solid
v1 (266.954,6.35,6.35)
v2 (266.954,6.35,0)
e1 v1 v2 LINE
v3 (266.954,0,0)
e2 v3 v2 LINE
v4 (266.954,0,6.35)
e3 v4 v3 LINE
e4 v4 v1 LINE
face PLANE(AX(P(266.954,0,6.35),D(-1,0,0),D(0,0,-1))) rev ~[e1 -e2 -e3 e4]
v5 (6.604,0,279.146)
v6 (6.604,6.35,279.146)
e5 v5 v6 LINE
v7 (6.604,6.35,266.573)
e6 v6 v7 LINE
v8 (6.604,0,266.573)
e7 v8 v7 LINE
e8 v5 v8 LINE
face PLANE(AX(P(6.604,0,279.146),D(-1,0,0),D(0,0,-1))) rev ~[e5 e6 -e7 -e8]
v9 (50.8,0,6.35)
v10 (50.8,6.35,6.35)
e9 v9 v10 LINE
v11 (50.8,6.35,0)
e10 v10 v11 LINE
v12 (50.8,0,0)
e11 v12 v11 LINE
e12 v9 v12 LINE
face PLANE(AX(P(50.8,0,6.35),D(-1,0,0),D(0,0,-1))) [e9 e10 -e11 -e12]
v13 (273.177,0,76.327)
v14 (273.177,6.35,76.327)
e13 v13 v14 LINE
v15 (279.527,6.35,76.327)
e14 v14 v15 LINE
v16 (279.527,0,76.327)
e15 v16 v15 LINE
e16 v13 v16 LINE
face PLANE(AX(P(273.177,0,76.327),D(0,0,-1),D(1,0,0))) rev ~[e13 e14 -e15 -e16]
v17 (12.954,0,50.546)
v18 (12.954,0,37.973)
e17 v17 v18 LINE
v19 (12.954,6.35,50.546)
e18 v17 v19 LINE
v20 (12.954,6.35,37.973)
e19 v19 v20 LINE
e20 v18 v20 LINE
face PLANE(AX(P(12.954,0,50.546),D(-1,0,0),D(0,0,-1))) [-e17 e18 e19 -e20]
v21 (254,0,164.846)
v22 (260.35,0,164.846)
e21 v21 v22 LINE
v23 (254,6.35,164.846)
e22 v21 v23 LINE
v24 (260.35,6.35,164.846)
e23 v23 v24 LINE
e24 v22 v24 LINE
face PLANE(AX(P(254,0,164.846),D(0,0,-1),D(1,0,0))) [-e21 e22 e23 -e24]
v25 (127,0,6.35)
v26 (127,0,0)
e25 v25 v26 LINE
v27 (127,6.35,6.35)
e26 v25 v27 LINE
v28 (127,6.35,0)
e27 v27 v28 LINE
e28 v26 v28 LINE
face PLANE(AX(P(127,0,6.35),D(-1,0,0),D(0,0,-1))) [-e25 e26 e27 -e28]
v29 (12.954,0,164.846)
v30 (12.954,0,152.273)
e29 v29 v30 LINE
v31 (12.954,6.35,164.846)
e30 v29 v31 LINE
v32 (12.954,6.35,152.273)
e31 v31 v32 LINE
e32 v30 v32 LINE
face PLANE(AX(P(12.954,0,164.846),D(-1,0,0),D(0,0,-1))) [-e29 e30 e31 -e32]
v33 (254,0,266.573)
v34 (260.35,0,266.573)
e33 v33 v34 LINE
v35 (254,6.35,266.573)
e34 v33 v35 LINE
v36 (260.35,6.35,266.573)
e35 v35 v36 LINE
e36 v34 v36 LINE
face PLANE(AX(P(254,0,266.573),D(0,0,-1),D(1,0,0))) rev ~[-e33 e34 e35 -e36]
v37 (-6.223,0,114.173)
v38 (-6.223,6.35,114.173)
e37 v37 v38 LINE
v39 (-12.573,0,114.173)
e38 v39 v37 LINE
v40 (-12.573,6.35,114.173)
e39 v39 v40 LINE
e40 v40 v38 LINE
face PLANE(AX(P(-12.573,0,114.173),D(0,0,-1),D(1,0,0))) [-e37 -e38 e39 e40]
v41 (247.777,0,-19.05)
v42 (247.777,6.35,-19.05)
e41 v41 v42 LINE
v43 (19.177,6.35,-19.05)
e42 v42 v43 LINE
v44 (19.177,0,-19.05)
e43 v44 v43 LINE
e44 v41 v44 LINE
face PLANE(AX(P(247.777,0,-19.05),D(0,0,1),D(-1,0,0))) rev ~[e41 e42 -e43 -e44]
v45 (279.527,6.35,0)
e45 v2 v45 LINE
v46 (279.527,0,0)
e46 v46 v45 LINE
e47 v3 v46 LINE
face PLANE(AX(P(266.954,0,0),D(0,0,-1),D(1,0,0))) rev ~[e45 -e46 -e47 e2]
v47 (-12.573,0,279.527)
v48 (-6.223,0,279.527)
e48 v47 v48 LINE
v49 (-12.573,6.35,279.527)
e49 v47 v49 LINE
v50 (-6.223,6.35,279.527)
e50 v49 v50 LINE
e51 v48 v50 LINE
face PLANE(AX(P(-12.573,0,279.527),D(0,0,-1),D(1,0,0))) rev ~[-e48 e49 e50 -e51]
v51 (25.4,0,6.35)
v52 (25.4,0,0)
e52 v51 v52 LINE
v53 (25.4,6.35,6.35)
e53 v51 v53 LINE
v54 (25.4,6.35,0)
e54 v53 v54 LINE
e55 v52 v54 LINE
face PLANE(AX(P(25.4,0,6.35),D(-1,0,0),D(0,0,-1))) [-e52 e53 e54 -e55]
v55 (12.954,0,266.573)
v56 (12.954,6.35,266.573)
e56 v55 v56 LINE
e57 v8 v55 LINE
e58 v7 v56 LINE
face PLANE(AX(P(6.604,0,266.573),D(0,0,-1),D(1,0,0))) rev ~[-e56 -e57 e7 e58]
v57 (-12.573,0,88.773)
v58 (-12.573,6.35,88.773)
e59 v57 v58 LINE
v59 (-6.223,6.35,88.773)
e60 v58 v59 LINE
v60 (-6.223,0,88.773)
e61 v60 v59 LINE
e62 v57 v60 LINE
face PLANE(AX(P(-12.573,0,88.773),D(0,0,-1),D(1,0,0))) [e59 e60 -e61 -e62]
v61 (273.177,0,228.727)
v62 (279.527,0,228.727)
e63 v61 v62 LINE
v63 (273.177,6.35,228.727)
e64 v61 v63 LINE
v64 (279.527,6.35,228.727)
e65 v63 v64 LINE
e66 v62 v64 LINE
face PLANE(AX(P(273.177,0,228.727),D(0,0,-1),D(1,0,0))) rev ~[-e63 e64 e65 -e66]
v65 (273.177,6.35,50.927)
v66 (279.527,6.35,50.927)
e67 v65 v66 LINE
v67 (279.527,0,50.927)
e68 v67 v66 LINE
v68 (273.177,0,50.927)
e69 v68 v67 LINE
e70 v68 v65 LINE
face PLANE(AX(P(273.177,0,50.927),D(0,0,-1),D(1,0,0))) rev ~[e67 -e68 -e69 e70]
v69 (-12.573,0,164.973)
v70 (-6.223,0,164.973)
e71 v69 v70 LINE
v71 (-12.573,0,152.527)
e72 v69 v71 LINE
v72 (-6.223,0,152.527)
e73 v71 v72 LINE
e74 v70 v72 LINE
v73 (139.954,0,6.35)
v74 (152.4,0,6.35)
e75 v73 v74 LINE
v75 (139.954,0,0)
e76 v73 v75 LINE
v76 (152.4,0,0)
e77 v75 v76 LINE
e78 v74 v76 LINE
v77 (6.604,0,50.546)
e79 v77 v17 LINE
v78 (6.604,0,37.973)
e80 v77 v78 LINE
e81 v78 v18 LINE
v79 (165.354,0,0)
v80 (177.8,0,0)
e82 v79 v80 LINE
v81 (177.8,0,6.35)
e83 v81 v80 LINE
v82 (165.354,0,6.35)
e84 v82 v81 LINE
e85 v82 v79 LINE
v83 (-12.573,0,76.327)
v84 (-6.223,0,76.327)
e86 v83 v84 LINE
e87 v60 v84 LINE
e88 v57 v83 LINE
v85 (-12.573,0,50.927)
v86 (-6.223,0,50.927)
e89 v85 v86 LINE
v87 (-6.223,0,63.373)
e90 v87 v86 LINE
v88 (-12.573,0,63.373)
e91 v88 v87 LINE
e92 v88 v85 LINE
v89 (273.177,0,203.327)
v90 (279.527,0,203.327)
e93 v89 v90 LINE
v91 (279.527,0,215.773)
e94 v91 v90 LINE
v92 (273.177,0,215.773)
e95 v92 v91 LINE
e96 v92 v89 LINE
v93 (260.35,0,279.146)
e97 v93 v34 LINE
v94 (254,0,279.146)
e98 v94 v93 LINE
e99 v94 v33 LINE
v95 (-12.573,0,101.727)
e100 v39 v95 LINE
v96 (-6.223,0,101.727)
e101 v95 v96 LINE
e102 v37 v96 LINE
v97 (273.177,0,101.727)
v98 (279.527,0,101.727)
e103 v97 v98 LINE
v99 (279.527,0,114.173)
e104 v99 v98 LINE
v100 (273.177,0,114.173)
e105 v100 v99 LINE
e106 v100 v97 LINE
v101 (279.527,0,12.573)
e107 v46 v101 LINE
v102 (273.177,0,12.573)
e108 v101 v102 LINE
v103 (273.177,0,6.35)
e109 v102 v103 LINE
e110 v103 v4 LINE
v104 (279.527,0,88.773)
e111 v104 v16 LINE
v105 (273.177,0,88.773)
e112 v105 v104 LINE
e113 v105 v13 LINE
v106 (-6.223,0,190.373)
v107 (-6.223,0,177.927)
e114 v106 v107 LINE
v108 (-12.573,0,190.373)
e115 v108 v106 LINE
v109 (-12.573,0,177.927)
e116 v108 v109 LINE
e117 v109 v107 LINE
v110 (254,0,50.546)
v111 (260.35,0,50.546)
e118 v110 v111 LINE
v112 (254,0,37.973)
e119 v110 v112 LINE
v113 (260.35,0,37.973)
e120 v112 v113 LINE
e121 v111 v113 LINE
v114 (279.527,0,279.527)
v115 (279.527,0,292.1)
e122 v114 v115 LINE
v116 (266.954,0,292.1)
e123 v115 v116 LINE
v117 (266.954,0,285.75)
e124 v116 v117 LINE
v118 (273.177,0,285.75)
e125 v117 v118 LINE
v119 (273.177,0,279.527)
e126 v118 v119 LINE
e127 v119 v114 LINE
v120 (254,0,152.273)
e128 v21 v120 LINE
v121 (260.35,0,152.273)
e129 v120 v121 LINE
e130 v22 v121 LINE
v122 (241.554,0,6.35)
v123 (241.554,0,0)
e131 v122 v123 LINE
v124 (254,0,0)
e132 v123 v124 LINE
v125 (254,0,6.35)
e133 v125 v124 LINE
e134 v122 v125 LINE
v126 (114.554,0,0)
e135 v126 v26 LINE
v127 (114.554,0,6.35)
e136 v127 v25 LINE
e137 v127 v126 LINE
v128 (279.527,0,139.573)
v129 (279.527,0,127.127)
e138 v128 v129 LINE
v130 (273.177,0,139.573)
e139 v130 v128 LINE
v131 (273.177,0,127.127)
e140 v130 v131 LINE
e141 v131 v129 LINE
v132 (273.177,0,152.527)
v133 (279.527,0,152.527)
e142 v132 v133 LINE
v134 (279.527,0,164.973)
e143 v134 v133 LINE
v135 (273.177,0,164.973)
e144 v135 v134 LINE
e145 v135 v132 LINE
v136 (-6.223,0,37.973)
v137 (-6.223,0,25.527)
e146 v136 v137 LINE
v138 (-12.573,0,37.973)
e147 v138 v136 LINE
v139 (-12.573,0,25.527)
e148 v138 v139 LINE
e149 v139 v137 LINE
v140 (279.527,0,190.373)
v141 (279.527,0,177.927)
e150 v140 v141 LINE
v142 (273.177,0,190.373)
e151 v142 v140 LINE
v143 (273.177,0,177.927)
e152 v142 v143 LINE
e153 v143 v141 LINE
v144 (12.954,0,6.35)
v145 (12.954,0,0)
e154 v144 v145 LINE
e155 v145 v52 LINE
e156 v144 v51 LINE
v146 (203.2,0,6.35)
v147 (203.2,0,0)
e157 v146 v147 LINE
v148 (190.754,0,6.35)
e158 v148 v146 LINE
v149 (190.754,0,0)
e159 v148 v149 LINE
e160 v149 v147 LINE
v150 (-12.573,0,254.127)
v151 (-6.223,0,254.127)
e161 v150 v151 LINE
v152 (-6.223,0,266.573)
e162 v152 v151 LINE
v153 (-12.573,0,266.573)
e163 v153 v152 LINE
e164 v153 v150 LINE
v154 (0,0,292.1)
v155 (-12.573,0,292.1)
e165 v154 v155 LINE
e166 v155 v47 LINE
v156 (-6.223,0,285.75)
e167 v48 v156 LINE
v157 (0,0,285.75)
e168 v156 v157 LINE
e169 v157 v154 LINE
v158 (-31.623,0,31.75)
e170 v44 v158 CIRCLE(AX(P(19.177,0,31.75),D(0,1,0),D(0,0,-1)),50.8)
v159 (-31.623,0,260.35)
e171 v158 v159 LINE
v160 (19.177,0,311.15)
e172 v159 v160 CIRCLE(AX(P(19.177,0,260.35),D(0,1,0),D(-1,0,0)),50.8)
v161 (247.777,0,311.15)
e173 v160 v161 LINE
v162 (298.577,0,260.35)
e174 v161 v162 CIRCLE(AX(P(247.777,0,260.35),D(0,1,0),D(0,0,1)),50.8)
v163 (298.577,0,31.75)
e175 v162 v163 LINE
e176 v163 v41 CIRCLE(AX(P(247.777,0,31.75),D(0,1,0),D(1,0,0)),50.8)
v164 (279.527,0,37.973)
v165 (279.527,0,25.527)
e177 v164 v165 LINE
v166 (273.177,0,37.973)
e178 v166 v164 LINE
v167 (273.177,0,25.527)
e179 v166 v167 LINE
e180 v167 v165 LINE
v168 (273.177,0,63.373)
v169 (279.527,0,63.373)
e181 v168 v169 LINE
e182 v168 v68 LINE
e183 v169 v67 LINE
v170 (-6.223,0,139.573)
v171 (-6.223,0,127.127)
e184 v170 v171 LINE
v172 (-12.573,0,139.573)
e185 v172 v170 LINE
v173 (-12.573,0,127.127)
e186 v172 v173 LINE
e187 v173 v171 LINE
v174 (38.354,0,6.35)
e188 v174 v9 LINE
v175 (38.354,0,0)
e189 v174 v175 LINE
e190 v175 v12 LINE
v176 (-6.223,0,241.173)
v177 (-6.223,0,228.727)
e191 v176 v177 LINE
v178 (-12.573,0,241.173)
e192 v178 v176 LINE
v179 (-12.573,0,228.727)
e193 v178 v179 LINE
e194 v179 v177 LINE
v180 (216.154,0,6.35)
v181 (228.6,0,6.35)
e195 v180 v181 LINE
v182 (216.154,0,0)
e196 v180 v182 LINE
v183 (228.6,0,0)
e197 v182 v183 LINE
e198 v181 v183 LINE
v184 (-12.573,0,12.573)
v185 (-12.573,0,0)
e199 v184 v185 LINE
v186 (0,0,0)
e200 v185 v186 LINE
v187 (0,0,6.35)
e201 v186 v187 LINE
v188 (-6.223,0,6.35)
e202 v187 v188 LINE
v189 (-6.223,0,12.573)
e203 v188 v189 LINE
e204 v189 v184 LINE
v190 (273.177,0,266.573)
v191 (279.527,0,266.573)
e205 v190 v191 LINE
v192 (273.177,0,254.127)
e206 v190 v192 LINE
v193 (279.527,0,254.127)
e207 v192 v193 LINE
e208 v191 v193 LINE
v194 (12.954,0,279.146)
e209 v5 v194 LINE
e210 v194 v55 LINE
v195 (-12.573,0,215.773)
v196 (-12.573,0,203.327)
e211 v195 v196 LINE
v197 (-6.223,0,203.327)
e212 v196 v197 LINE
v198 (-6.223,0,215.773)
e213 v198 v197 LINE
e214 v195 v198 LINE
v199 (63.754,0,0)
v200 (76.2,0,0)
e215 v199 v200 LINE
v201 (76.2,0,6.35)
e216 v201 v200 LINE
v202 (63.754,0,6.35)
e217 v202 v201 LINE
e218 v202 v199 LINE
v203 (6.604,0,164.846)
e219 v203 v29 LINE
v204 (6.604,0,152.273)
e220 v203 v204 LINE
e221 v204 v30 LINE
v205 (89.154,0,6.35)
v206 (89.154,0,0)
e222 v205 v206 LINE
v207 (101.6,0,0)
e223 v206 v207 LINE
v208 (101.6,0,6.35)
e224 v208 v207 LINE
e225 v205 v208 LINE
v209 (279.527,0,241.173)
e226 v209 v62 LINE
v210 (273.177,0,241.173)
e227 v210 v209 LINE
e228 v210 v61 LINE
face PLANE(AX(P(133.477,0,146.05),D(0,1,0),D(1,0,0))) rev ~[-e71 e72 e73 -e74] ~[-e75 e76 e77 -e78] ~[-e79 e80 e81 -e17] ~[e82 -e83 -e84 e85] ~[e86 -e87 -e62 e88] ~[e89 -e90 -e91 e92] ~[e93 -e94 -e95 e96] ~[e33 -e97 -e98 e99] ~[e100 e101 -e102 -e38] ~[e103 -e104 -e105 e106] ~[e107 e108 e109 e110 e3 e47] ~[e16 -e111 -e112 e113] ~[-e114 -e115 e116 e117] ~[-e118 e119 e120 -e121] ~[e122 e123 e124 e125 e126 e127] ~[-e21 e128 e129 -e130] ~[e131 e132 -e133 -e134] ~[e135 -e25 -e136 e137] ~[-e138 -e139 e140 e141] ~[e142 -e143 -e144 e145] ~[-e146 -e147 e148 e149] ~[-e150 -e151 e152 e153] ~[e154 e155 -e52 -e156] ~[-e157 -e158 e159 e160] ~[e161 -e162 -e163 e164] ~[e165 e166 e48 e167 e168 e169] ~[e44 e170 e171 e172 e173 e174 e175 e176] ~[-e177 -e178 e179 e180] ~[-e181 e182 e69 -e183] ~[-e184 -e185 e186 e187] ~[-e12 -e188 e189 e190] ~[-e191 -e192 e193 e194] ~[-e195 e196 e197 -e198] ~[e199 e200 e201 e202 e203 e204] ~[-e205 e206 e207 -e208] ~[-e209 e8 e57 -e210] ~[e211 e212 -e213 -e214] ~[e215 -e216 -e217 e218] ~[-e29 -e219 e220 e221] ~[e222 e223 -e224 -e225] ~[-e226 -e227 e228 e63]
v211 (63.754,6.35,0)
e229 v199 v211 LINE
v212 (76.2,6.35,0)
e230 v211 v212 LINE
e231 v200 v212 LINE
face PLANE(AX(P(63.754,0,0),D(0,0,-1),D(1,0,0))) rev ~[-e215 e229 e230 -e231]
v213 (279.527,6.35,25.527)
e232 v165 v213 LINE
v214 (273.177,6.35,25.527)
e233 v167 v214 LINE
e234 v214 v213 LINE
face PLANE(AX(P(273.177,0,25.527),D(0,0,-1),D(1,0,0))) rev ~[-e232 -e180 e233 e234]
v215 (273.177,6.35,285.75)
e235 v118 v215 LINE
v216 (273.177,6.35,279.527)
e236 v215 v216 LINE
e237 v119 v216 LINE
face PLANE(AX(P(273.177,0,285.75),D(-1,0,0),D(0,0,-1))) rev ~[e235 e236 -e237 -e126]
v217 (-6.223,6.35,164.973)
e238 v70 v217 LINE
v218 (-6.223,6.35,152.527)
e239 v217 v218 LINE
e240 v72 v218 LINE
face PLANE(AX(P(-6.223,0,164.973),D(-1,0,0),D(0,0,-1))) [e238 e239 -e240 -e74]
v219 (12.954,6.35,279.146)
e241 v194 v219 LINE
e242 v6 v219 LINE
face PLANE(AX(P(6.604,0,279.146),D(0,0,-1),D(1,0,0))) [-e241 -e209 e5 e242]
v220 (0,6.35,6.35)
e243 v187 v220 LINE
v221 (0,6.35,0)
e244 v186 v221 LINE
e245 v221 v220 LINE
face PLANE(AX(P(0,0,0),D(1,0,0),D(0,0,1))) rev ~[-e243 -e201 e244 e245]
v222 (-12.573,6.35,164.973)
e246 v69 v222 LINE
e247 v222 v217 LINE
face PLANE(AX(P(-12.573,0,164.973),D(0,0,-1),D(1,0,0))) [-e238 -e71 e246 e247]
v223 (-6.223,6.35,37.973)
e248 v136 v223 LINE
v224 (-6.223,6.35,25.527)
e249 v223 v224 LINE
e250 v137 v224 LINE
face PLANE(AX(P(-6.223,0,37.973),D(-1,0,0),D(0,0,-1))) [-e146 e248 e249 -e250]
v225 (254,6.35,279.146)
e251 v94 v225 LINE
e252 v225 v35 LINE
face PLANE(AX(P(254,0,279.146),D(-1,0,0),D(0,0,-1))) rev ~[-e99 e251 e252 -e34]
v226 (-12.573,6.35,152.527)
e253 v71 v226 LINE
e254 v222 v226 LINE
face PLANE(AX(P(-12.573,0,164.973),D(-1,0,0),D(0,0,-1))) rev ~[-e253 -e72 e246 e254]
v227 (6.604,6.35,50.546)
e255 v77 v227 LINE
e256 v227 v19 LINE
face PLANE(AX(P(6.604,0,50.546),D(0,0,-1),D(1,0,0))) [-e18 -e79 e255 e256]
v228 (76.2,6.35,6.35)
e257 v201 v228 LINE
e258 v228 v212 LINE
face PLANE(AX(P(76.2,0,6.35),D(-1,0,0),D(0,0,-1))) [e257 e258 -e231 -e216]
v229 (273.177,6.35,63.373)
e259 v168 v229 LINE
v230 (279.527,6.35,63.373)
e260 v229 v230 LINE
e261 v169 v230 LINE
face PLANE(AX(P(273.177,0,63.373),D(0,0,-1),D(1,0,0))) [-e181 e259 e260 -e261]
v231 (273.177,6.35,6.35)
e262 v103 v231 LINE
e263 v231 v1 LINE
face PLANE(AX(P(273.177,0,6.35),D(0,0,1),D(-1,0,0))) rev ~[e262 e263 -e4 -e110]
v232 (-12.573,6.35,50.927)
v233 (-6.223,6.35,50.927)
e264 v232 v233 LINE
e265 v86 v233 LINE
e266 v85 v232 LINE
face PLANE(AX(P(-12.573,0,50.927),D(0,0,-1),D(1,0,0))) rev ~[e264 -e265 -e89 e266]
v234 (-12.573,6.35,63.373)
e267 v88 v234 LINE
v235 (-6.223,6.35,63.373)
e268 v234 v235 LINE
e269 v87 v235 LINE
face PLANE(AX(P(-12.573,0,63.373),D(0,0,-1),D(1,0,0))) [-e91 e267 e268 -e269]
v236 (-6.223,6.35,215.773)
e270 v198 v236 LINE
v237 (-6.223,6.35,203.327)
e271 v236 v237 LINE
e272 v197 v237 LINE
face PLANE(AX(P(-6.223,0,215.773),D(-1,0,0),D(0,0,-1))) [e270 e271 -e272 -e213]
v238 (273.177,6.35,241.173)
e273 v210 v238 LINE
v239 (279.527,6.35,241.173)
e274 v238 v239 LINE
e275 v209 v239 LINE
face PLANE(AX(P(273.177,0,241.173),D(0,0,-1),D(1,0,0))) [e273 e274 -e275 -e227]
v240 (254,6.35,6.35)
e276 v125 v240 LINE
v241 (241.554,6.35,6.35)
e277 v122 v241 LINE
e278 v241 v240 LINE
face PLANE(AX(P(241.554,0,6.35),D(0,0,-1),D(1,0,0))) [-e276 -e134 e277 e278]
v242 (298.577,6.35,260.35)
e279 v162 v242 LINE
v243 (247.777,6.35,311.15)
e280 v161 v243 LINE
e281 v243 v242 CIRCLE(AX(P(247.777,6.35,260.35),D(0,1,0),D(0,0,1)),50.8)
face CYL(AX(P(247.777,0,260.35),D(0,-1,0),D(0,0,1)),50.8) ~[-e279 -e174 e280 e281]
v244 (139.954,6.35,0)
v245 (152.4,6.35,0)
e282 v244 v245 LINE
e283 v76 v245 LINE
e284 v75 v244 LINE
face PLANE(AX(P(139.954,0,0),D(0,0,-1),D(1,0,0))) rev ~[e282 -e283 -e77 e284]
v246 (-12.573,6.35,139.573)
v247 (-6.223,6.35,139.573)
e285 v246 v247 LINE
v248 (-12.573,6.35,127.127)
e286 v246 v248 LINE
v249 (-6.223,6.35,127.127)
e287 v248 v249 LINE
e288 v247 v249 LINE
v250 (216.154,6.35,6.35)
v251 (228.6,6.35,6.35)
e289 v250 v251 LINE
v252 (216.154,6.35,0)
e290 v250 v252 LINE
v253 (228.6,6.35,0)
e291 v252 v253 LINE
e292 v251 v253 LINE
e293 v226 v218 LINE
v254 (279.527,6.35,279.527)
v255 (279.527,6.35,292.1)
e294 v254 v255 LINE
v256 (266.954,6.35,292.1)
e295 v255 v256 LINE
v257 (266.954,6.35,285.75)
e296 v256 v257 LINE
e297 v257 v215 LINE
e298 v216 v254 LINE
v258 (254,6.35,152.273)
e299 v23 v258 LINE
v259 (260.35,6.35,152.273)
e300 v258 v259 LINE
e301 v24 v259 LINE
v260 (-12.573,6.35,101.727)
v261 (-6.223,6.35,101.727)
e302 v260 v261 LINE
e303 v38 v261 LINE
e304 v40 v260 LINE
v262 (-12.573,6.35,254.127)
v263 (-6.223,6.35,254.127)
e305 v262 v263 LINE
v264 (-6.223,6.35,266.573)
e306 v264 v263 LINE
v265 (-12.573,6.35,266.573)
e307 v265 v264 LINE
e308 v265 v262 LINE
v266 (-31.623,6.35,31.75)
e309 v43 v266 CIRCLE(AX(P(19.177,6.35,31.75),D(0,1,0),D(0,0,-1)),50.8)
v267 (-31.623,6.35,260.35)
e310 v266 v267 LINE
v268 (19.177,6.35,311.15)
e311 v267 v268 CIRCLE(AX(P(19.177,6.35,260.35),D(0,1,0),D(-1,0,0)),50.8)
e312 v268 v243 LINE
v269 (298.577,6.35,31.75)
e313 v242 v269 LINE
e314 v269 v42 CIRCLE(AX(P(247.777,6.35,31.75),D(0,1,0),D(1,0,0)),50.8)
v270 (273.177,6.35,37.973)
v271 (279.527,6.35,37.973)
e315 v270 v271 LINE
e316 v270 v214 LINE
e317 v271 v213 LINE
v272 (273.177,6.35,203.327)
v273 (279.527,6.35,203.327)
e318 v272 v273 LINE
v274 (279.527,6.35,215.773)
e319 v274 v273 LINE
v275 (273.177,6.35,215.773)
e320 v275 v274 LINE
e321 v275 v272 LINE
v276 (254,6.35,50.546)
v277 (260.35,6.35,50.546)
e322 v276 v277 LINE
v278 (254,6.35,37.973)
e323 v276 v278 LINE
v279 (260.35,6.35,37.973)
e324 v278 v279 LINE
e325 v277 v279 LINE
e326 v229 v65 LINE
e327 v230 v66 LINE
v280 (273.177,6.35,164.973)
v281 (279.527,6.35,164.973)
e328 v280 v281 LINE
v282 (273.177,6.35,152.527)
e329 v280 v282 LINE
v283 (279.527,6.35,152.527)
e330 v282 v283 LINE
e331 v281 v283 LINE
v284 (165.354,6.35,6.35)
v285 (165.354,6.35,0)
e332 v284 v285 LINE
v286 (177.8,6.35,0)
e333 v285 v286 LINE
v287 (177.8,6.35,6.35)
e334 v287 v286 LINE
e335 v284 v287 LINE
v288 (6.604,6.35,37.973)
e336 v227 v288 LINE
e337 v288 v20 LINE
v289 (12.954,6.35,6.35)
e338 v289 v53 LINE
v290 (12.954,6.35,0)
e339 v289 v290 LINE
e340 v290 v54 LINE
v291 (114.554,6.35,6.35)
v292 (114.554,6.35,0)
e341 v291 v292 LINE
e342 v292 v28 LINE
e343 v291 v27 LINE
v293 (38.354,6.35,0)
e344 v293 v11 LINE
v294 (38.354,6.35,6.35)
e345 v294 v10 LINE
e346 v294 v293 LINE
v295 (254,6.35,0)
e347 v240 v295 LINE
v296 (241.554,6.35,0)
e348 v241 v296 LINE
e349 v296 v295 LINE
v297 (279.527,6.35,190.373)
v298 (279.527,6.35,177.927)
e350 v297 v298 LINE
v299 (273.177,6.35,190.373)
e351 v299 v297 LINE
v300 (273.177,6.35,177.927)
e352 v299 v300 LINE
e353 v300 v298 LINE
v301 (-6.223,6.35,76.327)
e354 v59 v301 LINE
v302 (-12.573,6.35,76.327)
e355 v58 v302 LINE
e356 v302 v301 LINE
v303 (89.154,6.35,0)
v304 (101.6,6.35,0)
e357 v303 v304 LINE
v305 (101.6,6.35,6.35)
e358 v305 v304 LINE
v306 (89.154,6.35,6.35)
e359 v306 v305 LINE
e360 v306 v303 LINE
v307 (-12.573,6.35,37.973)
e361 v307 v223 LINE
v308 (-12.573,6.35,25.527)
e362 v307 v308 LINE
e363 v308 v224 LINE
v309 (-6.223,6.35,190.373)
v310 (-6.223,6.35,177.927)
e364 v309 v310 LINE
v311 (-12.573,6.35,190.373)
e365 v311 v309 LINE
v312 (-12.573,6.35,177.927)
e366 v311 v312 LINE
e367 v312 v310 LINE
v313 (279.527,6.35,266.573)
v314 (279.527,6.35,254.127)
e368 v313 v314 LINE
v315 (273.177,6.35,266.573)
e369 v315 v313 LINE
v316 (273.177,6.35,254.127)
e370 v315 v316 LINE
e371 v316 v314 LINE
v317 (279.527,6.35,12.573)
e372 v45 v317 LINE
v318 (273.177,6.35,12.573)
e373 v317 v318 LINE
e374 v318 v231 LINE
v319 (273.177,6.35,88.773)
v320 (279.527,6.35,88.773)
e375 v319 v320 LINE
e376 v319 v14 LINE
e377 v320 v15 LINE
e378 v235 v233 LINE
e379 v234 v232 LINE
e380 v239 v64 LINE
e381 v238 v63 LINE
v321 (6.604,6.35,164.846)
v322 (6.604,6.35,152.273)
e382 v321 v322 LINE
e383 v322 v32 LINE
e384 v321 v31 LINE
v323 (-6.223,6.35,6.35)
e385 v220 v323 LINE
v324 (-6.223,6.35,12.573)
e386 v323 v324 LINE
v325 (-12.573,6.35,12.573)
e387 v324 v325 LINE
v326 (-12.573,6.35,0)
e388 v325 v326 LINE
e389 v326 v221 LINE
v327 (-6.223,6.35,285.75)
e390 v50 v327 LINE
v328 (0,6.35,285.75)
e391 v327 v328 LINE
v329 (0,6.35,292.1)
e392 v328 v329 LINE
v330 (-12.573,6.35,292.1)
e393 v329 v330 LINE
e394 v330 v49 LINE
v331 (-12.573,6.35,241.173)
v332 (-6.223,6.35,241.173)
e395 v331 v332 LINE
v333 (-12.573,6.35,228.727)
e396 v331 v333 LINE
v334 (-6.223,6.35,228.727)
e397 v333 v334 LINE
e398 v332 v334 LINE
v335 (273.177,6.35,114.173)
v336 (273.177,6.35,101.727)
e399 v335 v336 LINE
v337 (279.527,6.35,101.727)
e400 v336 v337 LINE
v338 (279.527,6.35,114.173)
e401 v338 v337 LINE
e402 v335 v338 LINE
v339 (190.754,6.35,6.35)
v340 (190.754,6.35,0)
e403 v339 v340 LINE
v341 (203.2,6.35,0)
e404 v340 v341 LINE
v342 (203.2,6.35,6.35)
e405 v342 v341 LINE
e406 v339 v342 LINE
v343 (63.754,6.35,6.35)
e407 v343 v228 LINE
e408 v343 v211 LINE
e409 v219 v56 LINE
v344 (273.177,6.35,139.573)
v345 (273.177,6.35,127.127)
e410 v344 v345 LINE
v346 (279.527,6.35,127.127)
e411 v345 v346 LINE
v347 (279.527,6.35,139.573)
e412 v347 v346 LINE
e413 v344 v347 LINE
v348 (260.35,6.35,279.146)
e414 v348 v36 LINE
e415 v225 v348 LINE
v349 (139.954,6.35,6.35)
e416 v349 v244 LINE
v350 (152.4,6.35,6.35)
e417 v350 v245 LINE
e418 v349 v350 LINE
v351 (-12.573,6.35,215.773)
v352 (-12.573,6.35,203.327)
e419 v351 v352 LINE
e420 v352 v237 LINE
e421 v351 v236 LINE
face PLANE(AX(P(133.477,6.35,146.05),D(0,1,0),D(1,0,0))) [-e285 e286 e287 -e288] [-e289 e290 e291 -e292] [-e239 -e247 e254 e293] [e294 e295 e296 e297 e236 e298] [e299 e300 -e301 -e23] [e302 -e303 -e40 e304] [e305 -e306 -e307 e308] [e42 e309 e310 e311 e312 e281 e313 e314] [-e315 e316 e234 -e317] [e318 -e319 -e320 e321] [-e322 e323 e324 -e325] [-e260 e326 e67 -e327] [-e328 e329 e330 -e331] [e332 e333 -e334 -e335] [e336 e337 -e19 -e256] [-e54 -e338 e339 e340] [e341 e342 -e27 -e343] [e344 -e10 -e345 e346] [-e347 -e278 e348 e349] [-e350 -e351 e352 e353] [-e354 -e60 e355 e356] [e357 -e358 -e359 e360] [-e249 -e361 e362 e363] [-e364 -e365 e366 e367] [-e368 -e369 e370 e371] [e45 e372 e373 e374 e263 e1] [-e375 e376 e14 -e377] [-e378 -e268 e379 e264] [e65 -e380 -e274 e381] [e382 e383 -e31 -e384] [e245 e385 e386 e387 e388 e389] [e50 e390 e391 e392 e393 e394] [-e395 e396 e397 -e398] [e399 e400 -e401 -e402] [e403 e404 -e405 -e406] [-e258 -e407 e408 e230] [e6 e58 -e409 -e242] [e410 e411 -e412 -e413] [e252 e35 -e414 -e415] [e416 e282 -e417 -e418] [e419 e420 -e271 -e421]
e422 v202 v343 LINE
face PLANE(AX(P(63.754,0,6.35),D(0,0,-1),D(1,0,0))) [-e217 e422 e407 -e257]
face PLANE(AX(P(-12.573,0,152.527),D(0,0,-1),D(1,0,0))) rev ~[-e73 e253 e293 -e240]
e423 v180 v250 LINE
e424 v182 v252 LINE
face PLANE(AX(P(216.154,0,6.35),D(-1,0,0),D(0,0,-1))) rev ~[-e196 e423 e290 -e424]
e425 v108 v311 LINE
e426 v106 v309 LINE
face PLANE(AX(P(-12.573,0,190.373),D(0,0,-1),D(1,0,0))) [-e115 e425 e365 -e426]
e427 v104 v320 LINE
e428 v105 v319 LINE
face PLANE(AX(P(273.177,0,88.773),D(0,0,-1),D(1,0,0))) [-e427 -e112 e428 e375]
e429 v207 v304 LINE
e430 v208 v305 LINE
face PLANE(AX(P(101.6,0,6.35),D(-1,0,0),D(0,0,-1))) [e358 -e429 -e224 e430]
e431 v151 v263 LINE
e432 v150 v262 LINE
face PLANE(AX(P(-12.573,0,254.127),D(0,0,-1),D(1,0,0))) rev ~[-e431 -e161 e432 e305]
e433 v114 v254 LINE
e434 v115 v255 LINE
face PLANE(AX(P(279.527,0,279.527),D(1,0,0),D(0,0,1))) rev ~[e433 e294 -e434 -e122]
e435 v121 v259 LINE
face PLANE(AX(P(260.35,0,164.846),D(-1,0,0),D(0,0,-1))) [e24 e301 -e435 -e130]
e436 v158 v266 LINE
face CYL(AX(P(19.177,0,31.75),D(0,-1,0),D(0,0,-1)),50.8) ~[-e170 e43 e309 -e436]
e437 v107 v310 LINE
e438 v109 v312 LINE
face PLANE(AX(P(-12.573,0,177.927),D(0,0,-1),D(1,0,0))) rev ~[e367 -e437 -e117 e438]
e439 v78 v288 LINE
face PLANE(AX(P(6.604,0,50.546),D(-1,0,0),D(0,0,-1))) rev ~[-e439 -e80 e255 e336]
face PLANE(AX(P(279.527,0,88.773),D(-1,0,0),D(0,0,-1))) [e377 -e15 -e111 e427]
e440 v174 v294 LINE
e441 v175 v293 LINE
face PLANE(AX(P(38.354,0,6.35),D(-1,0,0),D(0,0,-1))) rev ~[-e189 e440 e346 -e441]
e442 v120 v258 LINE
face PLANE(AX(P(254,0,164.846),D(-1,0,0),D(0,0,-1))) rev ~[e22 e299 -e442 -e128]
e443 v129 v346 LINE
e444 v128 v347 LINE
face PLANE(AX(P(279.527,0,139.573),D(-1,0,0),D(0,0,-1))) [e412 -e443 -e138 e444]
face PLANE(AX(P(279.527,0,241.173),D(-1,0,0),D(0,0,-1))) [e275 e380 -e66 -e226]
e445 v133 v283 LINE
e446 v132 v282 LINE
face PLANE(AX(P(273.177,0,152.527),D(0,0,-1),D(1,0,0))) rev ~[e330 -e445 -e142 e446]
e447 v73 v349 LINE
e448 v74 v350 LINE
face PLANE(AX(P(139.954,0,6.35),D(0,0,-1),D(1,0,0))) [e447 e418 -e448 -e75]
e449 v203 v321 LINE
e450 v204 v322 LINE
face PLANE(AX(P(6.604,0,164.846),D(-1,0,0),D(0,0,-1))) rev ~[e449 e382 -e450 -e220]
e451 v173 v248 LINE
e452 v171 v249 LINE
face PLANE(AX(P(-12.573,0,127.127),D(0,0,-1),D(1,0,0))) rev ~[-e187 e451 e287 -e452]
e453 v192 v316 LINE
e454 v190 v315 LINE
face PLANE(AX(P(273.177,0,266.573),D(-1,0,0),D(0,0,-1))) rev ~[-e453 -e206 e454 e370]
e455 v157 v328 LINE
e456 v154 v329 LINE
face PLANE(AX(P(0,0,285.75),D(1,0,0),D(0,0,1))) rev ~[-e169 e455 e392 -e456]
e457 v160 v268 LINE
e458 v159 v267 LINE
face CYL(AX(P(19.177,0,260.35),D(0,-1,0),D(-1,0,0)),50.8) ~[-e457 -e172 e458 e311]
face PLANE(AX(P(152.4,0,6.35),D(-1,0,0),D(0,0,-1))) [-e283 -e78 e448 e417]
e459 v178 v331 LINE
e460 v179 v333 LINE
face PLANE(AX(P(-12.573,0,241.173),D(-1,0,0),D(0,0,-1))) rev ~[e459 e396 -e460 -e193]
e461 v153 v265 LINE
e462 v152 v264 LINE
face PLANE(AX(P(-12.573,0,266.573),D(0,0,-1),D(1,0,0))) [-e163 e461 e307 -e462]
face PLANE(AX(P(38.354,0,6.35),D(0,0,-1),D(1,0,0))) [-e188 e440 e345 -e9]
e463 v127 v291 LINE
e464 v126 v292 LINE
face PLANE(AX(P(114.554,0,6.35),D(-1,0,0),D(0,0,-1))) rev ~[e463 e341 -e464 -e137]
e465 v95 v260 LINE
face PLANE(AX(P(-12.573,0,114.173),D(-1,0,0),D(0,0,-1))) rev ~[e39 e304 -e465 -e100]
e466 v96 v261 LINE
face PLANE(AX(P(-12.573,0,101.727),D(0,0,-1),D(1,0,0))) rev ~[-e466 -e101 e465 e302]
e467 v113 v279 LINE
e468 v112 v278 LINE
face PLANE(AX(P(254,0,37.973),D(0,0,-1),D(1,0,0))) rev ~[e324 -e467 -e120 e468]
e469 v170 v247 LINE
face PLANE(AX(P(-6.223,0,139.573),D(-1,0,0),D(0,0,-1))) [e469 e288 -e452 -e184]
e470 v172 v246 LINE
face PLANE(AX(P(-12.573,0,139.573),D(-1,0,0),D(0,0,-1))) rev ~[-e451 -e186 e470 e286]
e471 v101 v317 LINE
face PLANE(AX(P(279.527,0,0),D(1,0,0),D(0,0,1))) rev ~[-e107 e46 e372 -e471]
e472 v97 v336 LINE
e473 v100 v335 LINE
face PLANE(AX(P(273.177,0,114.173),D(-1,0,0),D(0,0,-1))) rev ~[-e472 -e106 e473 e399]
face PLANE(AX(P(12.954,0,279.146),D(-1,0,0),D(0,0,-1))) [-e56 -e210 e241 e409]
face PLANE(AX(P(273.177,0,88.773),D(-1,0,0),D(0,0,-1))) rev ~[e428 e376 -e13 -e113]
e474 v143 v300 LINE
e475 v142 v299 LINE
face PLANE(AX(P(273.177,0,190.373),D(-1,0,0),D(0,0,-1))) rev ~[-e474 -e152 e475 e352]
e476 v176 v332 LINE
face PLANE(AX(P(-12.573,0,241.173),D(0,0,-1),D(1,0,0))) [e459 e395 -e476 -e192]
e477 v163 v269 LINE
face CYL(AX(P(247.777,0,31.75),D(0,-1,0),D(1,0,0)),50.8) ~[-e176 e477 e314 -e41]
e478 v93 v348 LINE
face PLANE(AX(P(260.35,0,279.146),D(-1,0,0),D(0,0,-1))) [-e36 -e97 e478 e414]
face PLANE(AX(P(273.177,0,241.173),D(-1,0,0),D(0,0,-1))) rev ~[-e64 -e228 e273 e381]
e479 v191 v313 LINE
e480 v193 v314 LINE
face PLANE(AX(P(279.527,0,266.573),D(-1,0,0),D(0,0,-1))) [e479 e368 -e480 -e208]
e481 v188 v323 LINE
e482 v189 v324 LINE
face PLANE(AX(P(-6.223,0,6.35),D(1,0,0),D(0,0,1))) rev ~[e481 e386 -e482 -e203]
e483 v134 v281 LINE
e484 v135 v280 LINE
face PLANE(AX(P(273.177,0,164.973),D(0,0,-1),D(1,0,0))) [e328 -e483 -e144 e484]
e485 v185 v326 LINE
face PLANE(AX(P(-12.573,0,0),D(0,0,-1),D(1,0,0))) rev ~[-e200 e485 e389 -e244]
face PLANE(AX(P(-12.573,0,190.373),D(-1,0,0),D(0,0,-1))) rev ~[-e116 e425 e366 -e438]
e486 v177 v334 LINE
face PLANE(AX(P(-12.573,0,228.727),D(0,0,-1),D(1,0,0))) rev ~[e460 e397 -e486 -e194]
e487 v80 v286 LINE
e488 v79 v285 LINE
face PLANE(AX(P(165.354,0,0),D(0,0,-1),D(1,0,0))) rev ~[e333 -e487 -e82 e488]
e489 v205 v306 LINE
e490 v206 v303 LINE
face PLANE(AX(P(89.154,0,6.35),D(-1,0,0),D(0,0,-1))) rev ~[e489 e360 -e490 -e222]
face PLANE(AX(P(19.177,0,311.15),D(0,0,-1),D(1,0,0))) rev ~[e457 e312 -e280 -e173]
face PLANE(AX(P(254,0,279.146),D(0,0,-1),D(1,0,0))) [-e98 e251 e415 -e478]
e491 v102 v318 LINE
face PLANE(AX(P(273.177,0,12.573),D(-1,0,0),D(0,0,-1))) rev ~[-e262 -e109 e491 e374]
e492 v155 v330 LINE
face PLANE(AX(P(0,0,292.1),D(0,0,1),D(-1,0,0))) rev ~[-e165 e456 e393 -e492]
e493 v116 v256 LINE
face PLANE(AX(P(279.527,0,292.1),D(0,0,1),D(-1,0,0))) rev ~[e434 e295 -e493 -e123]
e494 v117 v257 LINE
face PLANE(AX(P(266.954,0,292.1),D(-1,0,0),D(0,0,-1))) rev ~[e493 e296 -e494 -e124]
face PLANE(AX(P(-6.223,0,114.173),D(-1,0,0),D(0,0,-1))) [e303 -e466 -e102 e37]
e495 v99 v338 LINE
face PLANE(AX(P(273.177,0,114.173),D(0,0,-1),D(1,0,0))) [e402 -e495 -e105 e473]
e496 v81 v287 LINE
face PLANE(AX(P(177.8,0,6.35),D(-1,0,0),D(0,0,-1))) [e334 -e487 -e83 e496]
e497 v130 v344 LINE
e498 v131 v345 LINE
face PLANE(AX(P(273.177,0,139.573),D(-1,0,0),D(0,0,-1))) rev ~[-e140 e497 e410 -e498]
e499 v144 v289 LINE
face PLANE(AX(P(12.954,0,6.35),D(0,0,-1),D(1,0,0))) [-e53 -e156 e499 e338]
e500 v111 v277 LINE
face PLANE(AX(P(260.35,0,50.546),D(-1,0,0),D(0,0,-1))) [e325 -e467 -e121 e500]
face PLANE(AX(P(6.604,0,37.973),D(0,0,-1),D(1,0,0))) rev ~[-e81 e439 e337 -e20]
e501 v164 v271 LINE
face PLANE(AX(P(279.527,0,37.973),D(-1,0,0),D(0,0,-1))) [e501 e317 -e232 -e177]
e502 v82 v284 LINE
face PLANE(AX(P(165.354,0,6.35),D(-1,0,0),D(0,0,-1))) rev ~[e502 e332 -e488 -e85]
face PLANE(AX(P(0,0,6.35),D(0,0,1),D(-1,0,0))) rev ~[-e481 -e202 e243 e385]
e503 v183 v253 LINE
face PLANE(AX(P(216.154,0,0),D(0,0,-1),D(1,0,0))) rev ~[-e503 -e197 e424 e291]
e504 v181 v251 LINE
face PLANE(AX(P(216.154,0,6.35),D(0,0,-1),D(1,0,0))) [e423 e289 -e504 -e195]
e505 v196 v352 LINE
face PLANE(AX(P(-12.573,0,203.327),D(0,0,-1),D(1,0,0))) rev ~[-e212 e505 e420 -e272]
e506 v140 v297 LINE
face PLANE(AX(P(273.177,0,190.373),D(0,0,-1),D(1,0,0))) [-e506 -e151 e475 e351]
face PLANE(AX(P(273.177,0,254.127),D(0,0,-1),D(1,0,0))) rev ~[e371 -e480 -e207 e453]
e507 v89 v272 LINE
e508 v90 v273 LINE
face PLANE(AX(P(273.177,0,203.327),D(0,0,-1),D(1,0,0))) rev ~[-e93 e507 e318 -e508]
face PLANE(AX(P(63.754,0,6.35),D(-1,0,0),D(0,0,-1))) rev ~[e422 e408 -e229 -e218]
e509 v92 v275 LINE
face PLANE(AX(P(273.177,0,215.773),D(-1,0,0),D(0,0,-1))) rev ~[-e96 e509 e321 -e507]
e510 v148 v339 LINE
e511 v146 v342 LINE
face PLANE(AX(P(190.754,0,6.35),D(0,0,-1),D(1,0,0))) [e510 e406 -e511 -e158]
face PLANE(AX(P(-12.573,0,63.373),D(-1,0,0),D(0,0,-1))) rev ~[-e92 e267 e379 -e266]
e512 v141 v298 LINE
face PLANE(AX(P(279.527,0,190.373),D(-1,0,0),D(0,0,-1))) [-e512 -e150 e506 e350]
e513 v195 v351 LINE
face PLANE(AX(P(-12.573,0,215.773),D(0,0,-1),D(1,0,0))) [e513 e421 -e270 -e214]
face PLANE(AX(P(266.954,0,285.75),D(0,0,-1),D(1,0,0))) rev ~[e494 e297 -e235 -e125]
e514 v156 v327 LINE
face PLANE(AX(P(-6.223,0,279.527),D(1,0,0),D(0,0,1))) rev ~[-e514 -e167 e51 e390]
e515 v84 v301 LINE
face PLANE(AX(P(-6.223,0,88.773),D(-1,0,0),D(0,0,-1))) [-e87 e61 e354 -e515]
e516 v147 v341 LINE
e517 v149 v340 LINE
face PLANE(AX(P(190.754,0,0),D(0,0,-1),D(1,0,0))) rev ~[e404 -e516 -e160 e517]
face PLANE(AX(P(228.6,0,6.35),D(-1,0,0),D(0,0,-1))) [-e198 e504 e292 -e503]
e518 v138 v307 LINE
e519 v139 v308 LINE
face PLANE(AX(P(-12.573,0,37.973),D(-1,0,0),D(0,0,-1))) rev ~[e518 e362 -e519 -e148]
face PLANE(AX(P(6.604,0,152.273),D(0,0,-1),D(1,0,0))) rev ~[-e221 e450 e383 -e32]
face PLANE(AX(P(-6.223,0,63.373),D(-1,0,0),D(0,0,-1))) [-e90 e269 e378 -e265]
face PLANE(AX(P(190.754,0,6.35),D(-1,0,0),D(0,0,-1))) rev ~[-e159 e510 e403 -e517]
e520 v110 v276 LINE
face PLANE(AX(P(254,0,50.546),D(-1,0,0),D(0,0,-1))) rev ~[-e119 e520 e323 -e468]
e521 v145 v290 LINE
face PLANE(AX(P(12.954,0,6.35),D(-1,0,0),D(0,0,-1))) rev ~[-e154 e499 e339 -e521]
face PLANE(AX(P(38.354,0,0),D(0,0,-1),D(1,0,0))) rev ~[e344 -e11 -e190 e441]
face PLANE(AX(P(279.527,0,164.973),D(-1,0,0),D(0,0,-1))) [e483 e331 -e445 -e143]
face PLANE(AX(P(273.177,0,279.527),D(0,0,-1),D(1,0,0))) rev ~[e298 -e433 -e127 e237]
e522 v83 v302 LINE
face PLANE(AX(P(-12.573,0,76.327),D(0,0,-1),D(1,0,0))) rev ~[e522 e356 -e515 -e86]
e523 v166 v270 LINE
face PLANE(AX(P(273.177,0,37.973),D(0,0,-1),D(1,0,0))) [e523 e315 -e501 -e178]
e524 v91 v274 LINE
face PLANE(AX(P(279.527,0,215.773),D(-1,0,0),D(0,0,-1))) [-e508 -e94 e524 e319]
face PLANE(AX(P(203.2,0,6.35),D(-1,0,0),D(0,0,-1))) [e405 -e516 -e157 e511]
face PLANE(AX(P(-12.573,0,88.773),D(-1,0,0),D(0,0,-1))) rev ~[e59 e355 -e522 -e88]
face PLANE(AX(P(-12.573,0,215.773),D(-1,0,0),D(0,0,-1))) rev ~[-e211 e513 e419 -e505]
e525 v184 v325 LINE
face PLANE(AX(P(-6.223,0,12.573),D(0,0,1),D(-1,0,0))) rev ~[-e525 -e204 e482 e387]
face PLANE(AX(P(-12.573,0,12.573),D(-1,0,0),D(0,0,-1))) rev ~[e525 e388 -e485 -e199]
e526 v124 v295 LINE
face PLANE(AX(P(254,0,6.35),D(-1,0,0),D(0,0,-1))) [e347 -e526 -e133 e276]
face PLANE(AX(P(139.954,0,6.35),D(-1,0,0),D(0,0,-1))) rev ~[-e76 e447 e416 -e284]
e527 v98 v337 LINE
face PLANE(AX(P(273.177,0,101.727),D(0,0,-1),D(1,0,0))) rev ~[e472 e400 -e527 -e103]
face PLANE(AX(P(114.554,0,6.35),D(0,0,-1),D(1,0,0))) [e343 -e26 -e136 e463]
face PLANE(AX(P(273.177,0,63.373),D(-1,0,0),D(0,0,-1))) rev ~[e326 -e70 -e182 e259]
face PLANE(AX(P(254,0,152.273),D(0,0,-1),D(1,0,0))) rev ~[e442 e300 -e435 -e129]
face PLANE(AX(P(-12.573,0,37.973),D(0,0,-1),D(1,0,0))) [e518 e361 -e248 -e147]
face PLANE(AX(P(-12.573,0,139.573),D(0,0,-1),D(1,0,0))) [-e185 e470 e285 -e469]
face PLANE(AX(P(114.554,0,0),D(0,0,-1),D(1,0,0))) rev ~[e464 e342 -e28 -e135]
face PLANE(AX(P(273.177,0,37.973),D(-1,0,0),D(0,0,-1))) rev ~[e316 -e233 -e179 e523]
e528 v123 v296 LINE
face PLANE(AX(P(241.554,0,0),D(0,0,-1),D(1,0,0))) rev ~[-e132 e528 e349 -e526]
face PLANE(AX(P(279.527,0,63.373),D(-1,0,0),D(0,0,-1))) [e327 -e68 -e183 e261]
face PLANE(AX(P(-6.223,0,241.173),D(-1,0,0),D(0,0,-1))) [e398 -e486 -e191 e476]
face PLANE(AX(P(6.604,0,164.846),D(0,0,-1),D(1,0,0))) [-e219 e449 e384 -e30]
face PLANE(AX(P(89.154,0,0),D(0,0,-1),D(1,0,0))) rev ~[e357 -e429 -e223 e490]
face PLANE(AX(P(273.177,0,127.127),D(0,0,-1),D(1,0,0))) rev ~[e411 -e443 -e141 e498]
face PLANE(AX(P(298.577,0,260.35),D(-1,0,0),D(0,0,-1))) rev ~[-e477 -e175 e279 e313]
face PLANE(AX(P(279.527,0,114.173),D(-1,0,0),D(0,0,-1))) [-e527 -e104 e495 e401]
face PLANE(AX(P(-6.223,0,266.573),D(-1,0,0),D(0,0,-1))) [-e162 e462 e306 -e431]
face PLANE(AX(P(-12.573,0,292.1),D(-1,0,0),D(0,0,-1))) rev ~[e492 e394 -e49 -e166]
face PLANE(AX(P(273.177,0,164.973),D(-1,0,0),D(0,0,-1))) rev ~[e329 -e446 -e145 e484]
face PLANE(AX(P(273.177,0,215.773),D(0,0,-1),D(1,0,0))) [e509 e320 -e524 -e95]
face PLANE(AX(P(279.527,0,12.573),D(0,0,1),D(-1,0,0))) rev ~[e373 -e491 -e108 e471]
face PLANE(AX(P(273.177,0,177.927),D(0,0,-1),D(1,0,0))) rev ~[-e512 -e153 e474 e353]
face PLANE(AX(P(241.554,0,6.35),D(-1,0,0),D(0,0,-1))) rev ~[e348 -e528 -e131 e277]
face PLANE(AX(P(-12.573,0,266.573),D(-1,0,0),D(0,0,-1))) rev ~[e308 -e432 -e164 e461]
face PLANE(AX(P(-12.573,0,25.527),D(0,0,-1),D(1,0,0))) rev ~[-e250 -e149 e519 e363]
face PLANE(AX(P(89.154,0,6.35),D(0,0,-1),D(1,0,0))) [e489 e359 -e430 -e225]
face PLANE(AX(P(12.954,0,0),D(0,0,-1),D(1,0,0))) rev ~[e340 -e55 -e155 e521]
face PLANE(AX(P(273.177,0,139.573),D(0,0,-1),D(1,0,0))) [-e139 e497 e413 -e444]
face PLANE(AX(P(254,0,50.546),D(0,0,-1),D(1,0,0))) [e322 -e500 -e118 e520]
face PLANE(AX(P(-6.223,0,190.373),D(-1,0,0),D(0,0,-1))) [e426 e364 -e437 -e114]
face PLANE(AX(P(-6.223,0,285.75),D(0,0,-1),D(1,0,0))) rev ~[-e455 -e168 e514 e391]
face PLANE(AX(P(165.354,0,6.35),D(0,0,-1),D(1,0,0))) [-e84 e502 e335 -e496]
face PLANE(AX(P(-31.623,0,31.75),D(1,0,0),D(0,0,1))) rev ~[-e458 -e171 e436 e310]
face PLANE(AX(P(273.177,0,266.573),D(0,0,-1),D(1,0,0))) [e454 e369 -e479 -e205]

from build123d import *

# Parameters (mm, degrees)
SKETCH1_W           = 6.35
SKETCH1_H           = 12.446
SKETCH1_W_2         = 12.446
SKETCH1_H_2         = 6.35
SKETCH1_H_3         = 12.573
BOSS_EXTRUDE1_DEPTH = 6.35


with BuildPart() as part:
    # Sketch1 → Boss-Extrude1 (new body)
    with BuildSketch(Plane(origin=(0, 0, 0), x_dir=(1, 0, 0), z_dir=(0, 1, 0))):
        with BuildLine():
            Line((19.177, -311.15), (247.777, -311.15))
            ThreePointArc((247.777, -311.15), (283.698024484, -296.271024484), (298.577, -260.35))
            Line((298.577, -260.35), (298.577, -31.75))
            ThreePointArc((298.577, -31.75), (283.698024484, 4.171024484), (247.777, 19.05))
            Line((247.777, 19.05), (19.177, 19.05))
            ThreePointArc((19.177, 19.05), (-16.744024484, 4.171024484), (-31.623, -31.75))
            Line((-31.623, -31.75), (-31.623, -260.35))
            ThreePointArc((-31.623, -260.35), (-16.744024484, -296.271024484), (19.177, -311.15))
        make_face()
        with Locations((-9.398, -234.95)):
            Rectangle(SKETCH1_W, SKETCH1_H, mode=Mode.SUBTRACT)
        with Locations((-9.398, -209.55)):
            Rectangle(SKETCH1_W, SKETCH1_H, mode=Mode.SUBTRACT)
        with Locations((-9.398, -184.15)):
            Rectangle(SKETCH1_W, SKETCH1_H, mode=Mode.SUBTRACT)
        with Locations((-9.398, -158.75)):
            Rectangle(SKETCH1_W, SKETCH1_H, mode=Mode.SUBTRACT)
        with Locations((-9.398, -133.35)):
            Rectangle(SKETCH1_W, SKETCH1_H, mode=Mode.SUBTRACT)
        with Locations((-9.398, -107.95)):
            Rectangle(SKETCH1_W, SKETCH1_H, mode=Mode.SUBTRACT)
        with Locations((-9.398, -82.55)):
            Rectangle(SKETCH1_W, SKETCH1_H, mode=Mode.SUBTRACT)
        with Locations((-9.398, -57.15)):
            Rectangle(SKETCH1_W, SKETCH1_H, mode=Mode.SUBTRACT)
        with Locations((-9.398, -31.75)):
            Rectangle(SKETCH1_W, SKETCH1_H, mode=Mode.SUBTRACT)
        Polygon((-6.223, -12.573), (-12.573, -12.573), (-12.573, 0), (0, 0), (0, -6.35), (-6.223, -6.35), align=None, mode=Mode.SUBTRACT)
        Polygon((273.177, -285.75), (273.177, -279.527), (279.527, -279.527), (279.527, -292.1), (266.954, -292.1), (266.954, -285.75), align=None, mode=Mode.SUBTRACT)
        with Locations((276.352, -260.35)):
            Rectangle(SKETCH1_W, SKETCH1_H, mode=Mode.SUBTRACT)
        with Locations((276.352, -234.95)):
            Rectangle(SKETCH1_W, SKETCH1_H, mode=Mode.SUBTRACT)
        Polygon((-6.223, -279.527), (-6.223, -285.75), (0, -285.75), (0, -292.1), (-12.573, -292.1), (-12.573, -279.527), align=None, mode=Mode.SUBTRACT)
        with Locations((-9.398, -260.35)):
            Rectangle(SKETCH1_W, SKETCH1_H, mode=Mode.SUBTRACT)
        with Locations((276.352, -209.55)):
            Rectangle(SKETCH1_W, SKETCH1_H, mode=Mode.SUBTRACT)
        with Locations((276.352, -184.15)):
            Rectangle(SKETCH1_W, SKETCH1_H, mode=Mode.SUBTRACT)
        with Locations((276.352, -158.75)):
            Rectangle(SKETCH1_W, SKETCH1_H, mode=Mode.SUBTRACT)
        with Locations((276.352, -133.35)):
            Rectangle(SKETCH1_W, SKETCH1_H, mode=Mode.SUBTRACT)
        with Locations((276.352, -107.95)):
            Rectangle(SKETCH1_W, SKETCH1_H, mode=Mode.SUBTRACT)
        with Locations((276.352, -82.55)):
            Rectangle(SKETCH1_W, SKETCH1_H, mode=Mode.SUBTRACT)
        with Locations((276.352, -57.15)):
            Rectangle(SKETCH1_W, SKETCH1_H, mode=Mode.SUBTRACT)
        with Locations((276.352, -31.75)):
            Rectangle(SKETCH1_W, SKETCH1_H, mode=Mode.SUBTRACT)
        Polygon((279.527, -12.573), (273.177, -12.573), (273.177, -6.35), (266.954, -6.35), (266.954, 0), (279.527, 0), align=None, mode=Mode.SUBTRACT)
        with Locations((19.177, -3.175)):
            Rectangle(SKETCH1_W_2, SKETCH1_H_2, mode=Mode.SUBTRACT)
        with Locations((44.577, -3.175)):
            Rectangle(SKETCH1_W_2, SKETCH1_H_2, mode=Mode.SUBTRACT)
        with Locations((69.977, -3.175)):
            Rectangle(SKETCH1_W_2, SKETCH1_H_2, mode=Mode.SUBTRACT)
        with Locations((95.377, -3.175)):
            Rectangle(SKETCH1_W_2, SKETCH1_H_2, mode=Mode.SUBTRACT)
        with Locations((120.777, -3.175)):
            Rectangle(SKETCH1_W_2, SKETCH1_H_2, mode=Mode.SUBTRACT)
        with Locations((146.177, -3.175)):
            Rectangle(SKETCH1_W_2, SKETCH1_H_2, mode=Mode.SUBTRACT)
        with Locations((171.577, -3.175)):
            Rectangle(SKETCH1_W_2, SKETCH1_H_2, mode=Mode.SUBTRACT)
        with Locations((196.977, -3.175)):
            Rectangle(SKETCH1_W_2, SKETCH1_H_2, mode=Mode.SUBTRACT)
        with Locations((222.377, -3.175)):
            Rectangle(SKETCH1_W_2, SKETCH1_H_2, mode=Mode.SUBTRACT)
        with Locations((247.777, -3.175)):
            Rectangle(SKETCH1_W_2, SKETCH1_H_2, mode=Mode.SUBTRACT)
        with Locations((257.175, -158.5595)):
            Rectangle(SKETCH1_W, SKETCH1_H_3, mode=Mode.SUBTRACT)
        with Locations((257.175, -272.8595)):
            Rectangle(SKETCH1_W, SKETCH1_H_3, mode=Mode.SUBTRACT)
        with Locations((257.175, -44.2595)):
            Rectangle(SKETCH1_W, SKETCH1_H_3, mode=Mode.SUBTRACT)
        with Locations((9.779, -44.2595)):
            Rectangle(SKETCH1_W, SKETCH1_H_3, mode=Mode.SUBTRACT)
        with Locations((9.779, -158.5595)):
            Rectangle(SKETCH1_W, SKETCH1_H_3, mode=Mode.SUBTRACT)
        with Locations((9.779, -272.8595)):
            Rectangle(SKETCH1_W, SKETCH1_H_3, mode=Mode.SUBTRACT)
    extrude(amount=BOSS_EXTRUDE1_DEPTH)


solid = part.part
